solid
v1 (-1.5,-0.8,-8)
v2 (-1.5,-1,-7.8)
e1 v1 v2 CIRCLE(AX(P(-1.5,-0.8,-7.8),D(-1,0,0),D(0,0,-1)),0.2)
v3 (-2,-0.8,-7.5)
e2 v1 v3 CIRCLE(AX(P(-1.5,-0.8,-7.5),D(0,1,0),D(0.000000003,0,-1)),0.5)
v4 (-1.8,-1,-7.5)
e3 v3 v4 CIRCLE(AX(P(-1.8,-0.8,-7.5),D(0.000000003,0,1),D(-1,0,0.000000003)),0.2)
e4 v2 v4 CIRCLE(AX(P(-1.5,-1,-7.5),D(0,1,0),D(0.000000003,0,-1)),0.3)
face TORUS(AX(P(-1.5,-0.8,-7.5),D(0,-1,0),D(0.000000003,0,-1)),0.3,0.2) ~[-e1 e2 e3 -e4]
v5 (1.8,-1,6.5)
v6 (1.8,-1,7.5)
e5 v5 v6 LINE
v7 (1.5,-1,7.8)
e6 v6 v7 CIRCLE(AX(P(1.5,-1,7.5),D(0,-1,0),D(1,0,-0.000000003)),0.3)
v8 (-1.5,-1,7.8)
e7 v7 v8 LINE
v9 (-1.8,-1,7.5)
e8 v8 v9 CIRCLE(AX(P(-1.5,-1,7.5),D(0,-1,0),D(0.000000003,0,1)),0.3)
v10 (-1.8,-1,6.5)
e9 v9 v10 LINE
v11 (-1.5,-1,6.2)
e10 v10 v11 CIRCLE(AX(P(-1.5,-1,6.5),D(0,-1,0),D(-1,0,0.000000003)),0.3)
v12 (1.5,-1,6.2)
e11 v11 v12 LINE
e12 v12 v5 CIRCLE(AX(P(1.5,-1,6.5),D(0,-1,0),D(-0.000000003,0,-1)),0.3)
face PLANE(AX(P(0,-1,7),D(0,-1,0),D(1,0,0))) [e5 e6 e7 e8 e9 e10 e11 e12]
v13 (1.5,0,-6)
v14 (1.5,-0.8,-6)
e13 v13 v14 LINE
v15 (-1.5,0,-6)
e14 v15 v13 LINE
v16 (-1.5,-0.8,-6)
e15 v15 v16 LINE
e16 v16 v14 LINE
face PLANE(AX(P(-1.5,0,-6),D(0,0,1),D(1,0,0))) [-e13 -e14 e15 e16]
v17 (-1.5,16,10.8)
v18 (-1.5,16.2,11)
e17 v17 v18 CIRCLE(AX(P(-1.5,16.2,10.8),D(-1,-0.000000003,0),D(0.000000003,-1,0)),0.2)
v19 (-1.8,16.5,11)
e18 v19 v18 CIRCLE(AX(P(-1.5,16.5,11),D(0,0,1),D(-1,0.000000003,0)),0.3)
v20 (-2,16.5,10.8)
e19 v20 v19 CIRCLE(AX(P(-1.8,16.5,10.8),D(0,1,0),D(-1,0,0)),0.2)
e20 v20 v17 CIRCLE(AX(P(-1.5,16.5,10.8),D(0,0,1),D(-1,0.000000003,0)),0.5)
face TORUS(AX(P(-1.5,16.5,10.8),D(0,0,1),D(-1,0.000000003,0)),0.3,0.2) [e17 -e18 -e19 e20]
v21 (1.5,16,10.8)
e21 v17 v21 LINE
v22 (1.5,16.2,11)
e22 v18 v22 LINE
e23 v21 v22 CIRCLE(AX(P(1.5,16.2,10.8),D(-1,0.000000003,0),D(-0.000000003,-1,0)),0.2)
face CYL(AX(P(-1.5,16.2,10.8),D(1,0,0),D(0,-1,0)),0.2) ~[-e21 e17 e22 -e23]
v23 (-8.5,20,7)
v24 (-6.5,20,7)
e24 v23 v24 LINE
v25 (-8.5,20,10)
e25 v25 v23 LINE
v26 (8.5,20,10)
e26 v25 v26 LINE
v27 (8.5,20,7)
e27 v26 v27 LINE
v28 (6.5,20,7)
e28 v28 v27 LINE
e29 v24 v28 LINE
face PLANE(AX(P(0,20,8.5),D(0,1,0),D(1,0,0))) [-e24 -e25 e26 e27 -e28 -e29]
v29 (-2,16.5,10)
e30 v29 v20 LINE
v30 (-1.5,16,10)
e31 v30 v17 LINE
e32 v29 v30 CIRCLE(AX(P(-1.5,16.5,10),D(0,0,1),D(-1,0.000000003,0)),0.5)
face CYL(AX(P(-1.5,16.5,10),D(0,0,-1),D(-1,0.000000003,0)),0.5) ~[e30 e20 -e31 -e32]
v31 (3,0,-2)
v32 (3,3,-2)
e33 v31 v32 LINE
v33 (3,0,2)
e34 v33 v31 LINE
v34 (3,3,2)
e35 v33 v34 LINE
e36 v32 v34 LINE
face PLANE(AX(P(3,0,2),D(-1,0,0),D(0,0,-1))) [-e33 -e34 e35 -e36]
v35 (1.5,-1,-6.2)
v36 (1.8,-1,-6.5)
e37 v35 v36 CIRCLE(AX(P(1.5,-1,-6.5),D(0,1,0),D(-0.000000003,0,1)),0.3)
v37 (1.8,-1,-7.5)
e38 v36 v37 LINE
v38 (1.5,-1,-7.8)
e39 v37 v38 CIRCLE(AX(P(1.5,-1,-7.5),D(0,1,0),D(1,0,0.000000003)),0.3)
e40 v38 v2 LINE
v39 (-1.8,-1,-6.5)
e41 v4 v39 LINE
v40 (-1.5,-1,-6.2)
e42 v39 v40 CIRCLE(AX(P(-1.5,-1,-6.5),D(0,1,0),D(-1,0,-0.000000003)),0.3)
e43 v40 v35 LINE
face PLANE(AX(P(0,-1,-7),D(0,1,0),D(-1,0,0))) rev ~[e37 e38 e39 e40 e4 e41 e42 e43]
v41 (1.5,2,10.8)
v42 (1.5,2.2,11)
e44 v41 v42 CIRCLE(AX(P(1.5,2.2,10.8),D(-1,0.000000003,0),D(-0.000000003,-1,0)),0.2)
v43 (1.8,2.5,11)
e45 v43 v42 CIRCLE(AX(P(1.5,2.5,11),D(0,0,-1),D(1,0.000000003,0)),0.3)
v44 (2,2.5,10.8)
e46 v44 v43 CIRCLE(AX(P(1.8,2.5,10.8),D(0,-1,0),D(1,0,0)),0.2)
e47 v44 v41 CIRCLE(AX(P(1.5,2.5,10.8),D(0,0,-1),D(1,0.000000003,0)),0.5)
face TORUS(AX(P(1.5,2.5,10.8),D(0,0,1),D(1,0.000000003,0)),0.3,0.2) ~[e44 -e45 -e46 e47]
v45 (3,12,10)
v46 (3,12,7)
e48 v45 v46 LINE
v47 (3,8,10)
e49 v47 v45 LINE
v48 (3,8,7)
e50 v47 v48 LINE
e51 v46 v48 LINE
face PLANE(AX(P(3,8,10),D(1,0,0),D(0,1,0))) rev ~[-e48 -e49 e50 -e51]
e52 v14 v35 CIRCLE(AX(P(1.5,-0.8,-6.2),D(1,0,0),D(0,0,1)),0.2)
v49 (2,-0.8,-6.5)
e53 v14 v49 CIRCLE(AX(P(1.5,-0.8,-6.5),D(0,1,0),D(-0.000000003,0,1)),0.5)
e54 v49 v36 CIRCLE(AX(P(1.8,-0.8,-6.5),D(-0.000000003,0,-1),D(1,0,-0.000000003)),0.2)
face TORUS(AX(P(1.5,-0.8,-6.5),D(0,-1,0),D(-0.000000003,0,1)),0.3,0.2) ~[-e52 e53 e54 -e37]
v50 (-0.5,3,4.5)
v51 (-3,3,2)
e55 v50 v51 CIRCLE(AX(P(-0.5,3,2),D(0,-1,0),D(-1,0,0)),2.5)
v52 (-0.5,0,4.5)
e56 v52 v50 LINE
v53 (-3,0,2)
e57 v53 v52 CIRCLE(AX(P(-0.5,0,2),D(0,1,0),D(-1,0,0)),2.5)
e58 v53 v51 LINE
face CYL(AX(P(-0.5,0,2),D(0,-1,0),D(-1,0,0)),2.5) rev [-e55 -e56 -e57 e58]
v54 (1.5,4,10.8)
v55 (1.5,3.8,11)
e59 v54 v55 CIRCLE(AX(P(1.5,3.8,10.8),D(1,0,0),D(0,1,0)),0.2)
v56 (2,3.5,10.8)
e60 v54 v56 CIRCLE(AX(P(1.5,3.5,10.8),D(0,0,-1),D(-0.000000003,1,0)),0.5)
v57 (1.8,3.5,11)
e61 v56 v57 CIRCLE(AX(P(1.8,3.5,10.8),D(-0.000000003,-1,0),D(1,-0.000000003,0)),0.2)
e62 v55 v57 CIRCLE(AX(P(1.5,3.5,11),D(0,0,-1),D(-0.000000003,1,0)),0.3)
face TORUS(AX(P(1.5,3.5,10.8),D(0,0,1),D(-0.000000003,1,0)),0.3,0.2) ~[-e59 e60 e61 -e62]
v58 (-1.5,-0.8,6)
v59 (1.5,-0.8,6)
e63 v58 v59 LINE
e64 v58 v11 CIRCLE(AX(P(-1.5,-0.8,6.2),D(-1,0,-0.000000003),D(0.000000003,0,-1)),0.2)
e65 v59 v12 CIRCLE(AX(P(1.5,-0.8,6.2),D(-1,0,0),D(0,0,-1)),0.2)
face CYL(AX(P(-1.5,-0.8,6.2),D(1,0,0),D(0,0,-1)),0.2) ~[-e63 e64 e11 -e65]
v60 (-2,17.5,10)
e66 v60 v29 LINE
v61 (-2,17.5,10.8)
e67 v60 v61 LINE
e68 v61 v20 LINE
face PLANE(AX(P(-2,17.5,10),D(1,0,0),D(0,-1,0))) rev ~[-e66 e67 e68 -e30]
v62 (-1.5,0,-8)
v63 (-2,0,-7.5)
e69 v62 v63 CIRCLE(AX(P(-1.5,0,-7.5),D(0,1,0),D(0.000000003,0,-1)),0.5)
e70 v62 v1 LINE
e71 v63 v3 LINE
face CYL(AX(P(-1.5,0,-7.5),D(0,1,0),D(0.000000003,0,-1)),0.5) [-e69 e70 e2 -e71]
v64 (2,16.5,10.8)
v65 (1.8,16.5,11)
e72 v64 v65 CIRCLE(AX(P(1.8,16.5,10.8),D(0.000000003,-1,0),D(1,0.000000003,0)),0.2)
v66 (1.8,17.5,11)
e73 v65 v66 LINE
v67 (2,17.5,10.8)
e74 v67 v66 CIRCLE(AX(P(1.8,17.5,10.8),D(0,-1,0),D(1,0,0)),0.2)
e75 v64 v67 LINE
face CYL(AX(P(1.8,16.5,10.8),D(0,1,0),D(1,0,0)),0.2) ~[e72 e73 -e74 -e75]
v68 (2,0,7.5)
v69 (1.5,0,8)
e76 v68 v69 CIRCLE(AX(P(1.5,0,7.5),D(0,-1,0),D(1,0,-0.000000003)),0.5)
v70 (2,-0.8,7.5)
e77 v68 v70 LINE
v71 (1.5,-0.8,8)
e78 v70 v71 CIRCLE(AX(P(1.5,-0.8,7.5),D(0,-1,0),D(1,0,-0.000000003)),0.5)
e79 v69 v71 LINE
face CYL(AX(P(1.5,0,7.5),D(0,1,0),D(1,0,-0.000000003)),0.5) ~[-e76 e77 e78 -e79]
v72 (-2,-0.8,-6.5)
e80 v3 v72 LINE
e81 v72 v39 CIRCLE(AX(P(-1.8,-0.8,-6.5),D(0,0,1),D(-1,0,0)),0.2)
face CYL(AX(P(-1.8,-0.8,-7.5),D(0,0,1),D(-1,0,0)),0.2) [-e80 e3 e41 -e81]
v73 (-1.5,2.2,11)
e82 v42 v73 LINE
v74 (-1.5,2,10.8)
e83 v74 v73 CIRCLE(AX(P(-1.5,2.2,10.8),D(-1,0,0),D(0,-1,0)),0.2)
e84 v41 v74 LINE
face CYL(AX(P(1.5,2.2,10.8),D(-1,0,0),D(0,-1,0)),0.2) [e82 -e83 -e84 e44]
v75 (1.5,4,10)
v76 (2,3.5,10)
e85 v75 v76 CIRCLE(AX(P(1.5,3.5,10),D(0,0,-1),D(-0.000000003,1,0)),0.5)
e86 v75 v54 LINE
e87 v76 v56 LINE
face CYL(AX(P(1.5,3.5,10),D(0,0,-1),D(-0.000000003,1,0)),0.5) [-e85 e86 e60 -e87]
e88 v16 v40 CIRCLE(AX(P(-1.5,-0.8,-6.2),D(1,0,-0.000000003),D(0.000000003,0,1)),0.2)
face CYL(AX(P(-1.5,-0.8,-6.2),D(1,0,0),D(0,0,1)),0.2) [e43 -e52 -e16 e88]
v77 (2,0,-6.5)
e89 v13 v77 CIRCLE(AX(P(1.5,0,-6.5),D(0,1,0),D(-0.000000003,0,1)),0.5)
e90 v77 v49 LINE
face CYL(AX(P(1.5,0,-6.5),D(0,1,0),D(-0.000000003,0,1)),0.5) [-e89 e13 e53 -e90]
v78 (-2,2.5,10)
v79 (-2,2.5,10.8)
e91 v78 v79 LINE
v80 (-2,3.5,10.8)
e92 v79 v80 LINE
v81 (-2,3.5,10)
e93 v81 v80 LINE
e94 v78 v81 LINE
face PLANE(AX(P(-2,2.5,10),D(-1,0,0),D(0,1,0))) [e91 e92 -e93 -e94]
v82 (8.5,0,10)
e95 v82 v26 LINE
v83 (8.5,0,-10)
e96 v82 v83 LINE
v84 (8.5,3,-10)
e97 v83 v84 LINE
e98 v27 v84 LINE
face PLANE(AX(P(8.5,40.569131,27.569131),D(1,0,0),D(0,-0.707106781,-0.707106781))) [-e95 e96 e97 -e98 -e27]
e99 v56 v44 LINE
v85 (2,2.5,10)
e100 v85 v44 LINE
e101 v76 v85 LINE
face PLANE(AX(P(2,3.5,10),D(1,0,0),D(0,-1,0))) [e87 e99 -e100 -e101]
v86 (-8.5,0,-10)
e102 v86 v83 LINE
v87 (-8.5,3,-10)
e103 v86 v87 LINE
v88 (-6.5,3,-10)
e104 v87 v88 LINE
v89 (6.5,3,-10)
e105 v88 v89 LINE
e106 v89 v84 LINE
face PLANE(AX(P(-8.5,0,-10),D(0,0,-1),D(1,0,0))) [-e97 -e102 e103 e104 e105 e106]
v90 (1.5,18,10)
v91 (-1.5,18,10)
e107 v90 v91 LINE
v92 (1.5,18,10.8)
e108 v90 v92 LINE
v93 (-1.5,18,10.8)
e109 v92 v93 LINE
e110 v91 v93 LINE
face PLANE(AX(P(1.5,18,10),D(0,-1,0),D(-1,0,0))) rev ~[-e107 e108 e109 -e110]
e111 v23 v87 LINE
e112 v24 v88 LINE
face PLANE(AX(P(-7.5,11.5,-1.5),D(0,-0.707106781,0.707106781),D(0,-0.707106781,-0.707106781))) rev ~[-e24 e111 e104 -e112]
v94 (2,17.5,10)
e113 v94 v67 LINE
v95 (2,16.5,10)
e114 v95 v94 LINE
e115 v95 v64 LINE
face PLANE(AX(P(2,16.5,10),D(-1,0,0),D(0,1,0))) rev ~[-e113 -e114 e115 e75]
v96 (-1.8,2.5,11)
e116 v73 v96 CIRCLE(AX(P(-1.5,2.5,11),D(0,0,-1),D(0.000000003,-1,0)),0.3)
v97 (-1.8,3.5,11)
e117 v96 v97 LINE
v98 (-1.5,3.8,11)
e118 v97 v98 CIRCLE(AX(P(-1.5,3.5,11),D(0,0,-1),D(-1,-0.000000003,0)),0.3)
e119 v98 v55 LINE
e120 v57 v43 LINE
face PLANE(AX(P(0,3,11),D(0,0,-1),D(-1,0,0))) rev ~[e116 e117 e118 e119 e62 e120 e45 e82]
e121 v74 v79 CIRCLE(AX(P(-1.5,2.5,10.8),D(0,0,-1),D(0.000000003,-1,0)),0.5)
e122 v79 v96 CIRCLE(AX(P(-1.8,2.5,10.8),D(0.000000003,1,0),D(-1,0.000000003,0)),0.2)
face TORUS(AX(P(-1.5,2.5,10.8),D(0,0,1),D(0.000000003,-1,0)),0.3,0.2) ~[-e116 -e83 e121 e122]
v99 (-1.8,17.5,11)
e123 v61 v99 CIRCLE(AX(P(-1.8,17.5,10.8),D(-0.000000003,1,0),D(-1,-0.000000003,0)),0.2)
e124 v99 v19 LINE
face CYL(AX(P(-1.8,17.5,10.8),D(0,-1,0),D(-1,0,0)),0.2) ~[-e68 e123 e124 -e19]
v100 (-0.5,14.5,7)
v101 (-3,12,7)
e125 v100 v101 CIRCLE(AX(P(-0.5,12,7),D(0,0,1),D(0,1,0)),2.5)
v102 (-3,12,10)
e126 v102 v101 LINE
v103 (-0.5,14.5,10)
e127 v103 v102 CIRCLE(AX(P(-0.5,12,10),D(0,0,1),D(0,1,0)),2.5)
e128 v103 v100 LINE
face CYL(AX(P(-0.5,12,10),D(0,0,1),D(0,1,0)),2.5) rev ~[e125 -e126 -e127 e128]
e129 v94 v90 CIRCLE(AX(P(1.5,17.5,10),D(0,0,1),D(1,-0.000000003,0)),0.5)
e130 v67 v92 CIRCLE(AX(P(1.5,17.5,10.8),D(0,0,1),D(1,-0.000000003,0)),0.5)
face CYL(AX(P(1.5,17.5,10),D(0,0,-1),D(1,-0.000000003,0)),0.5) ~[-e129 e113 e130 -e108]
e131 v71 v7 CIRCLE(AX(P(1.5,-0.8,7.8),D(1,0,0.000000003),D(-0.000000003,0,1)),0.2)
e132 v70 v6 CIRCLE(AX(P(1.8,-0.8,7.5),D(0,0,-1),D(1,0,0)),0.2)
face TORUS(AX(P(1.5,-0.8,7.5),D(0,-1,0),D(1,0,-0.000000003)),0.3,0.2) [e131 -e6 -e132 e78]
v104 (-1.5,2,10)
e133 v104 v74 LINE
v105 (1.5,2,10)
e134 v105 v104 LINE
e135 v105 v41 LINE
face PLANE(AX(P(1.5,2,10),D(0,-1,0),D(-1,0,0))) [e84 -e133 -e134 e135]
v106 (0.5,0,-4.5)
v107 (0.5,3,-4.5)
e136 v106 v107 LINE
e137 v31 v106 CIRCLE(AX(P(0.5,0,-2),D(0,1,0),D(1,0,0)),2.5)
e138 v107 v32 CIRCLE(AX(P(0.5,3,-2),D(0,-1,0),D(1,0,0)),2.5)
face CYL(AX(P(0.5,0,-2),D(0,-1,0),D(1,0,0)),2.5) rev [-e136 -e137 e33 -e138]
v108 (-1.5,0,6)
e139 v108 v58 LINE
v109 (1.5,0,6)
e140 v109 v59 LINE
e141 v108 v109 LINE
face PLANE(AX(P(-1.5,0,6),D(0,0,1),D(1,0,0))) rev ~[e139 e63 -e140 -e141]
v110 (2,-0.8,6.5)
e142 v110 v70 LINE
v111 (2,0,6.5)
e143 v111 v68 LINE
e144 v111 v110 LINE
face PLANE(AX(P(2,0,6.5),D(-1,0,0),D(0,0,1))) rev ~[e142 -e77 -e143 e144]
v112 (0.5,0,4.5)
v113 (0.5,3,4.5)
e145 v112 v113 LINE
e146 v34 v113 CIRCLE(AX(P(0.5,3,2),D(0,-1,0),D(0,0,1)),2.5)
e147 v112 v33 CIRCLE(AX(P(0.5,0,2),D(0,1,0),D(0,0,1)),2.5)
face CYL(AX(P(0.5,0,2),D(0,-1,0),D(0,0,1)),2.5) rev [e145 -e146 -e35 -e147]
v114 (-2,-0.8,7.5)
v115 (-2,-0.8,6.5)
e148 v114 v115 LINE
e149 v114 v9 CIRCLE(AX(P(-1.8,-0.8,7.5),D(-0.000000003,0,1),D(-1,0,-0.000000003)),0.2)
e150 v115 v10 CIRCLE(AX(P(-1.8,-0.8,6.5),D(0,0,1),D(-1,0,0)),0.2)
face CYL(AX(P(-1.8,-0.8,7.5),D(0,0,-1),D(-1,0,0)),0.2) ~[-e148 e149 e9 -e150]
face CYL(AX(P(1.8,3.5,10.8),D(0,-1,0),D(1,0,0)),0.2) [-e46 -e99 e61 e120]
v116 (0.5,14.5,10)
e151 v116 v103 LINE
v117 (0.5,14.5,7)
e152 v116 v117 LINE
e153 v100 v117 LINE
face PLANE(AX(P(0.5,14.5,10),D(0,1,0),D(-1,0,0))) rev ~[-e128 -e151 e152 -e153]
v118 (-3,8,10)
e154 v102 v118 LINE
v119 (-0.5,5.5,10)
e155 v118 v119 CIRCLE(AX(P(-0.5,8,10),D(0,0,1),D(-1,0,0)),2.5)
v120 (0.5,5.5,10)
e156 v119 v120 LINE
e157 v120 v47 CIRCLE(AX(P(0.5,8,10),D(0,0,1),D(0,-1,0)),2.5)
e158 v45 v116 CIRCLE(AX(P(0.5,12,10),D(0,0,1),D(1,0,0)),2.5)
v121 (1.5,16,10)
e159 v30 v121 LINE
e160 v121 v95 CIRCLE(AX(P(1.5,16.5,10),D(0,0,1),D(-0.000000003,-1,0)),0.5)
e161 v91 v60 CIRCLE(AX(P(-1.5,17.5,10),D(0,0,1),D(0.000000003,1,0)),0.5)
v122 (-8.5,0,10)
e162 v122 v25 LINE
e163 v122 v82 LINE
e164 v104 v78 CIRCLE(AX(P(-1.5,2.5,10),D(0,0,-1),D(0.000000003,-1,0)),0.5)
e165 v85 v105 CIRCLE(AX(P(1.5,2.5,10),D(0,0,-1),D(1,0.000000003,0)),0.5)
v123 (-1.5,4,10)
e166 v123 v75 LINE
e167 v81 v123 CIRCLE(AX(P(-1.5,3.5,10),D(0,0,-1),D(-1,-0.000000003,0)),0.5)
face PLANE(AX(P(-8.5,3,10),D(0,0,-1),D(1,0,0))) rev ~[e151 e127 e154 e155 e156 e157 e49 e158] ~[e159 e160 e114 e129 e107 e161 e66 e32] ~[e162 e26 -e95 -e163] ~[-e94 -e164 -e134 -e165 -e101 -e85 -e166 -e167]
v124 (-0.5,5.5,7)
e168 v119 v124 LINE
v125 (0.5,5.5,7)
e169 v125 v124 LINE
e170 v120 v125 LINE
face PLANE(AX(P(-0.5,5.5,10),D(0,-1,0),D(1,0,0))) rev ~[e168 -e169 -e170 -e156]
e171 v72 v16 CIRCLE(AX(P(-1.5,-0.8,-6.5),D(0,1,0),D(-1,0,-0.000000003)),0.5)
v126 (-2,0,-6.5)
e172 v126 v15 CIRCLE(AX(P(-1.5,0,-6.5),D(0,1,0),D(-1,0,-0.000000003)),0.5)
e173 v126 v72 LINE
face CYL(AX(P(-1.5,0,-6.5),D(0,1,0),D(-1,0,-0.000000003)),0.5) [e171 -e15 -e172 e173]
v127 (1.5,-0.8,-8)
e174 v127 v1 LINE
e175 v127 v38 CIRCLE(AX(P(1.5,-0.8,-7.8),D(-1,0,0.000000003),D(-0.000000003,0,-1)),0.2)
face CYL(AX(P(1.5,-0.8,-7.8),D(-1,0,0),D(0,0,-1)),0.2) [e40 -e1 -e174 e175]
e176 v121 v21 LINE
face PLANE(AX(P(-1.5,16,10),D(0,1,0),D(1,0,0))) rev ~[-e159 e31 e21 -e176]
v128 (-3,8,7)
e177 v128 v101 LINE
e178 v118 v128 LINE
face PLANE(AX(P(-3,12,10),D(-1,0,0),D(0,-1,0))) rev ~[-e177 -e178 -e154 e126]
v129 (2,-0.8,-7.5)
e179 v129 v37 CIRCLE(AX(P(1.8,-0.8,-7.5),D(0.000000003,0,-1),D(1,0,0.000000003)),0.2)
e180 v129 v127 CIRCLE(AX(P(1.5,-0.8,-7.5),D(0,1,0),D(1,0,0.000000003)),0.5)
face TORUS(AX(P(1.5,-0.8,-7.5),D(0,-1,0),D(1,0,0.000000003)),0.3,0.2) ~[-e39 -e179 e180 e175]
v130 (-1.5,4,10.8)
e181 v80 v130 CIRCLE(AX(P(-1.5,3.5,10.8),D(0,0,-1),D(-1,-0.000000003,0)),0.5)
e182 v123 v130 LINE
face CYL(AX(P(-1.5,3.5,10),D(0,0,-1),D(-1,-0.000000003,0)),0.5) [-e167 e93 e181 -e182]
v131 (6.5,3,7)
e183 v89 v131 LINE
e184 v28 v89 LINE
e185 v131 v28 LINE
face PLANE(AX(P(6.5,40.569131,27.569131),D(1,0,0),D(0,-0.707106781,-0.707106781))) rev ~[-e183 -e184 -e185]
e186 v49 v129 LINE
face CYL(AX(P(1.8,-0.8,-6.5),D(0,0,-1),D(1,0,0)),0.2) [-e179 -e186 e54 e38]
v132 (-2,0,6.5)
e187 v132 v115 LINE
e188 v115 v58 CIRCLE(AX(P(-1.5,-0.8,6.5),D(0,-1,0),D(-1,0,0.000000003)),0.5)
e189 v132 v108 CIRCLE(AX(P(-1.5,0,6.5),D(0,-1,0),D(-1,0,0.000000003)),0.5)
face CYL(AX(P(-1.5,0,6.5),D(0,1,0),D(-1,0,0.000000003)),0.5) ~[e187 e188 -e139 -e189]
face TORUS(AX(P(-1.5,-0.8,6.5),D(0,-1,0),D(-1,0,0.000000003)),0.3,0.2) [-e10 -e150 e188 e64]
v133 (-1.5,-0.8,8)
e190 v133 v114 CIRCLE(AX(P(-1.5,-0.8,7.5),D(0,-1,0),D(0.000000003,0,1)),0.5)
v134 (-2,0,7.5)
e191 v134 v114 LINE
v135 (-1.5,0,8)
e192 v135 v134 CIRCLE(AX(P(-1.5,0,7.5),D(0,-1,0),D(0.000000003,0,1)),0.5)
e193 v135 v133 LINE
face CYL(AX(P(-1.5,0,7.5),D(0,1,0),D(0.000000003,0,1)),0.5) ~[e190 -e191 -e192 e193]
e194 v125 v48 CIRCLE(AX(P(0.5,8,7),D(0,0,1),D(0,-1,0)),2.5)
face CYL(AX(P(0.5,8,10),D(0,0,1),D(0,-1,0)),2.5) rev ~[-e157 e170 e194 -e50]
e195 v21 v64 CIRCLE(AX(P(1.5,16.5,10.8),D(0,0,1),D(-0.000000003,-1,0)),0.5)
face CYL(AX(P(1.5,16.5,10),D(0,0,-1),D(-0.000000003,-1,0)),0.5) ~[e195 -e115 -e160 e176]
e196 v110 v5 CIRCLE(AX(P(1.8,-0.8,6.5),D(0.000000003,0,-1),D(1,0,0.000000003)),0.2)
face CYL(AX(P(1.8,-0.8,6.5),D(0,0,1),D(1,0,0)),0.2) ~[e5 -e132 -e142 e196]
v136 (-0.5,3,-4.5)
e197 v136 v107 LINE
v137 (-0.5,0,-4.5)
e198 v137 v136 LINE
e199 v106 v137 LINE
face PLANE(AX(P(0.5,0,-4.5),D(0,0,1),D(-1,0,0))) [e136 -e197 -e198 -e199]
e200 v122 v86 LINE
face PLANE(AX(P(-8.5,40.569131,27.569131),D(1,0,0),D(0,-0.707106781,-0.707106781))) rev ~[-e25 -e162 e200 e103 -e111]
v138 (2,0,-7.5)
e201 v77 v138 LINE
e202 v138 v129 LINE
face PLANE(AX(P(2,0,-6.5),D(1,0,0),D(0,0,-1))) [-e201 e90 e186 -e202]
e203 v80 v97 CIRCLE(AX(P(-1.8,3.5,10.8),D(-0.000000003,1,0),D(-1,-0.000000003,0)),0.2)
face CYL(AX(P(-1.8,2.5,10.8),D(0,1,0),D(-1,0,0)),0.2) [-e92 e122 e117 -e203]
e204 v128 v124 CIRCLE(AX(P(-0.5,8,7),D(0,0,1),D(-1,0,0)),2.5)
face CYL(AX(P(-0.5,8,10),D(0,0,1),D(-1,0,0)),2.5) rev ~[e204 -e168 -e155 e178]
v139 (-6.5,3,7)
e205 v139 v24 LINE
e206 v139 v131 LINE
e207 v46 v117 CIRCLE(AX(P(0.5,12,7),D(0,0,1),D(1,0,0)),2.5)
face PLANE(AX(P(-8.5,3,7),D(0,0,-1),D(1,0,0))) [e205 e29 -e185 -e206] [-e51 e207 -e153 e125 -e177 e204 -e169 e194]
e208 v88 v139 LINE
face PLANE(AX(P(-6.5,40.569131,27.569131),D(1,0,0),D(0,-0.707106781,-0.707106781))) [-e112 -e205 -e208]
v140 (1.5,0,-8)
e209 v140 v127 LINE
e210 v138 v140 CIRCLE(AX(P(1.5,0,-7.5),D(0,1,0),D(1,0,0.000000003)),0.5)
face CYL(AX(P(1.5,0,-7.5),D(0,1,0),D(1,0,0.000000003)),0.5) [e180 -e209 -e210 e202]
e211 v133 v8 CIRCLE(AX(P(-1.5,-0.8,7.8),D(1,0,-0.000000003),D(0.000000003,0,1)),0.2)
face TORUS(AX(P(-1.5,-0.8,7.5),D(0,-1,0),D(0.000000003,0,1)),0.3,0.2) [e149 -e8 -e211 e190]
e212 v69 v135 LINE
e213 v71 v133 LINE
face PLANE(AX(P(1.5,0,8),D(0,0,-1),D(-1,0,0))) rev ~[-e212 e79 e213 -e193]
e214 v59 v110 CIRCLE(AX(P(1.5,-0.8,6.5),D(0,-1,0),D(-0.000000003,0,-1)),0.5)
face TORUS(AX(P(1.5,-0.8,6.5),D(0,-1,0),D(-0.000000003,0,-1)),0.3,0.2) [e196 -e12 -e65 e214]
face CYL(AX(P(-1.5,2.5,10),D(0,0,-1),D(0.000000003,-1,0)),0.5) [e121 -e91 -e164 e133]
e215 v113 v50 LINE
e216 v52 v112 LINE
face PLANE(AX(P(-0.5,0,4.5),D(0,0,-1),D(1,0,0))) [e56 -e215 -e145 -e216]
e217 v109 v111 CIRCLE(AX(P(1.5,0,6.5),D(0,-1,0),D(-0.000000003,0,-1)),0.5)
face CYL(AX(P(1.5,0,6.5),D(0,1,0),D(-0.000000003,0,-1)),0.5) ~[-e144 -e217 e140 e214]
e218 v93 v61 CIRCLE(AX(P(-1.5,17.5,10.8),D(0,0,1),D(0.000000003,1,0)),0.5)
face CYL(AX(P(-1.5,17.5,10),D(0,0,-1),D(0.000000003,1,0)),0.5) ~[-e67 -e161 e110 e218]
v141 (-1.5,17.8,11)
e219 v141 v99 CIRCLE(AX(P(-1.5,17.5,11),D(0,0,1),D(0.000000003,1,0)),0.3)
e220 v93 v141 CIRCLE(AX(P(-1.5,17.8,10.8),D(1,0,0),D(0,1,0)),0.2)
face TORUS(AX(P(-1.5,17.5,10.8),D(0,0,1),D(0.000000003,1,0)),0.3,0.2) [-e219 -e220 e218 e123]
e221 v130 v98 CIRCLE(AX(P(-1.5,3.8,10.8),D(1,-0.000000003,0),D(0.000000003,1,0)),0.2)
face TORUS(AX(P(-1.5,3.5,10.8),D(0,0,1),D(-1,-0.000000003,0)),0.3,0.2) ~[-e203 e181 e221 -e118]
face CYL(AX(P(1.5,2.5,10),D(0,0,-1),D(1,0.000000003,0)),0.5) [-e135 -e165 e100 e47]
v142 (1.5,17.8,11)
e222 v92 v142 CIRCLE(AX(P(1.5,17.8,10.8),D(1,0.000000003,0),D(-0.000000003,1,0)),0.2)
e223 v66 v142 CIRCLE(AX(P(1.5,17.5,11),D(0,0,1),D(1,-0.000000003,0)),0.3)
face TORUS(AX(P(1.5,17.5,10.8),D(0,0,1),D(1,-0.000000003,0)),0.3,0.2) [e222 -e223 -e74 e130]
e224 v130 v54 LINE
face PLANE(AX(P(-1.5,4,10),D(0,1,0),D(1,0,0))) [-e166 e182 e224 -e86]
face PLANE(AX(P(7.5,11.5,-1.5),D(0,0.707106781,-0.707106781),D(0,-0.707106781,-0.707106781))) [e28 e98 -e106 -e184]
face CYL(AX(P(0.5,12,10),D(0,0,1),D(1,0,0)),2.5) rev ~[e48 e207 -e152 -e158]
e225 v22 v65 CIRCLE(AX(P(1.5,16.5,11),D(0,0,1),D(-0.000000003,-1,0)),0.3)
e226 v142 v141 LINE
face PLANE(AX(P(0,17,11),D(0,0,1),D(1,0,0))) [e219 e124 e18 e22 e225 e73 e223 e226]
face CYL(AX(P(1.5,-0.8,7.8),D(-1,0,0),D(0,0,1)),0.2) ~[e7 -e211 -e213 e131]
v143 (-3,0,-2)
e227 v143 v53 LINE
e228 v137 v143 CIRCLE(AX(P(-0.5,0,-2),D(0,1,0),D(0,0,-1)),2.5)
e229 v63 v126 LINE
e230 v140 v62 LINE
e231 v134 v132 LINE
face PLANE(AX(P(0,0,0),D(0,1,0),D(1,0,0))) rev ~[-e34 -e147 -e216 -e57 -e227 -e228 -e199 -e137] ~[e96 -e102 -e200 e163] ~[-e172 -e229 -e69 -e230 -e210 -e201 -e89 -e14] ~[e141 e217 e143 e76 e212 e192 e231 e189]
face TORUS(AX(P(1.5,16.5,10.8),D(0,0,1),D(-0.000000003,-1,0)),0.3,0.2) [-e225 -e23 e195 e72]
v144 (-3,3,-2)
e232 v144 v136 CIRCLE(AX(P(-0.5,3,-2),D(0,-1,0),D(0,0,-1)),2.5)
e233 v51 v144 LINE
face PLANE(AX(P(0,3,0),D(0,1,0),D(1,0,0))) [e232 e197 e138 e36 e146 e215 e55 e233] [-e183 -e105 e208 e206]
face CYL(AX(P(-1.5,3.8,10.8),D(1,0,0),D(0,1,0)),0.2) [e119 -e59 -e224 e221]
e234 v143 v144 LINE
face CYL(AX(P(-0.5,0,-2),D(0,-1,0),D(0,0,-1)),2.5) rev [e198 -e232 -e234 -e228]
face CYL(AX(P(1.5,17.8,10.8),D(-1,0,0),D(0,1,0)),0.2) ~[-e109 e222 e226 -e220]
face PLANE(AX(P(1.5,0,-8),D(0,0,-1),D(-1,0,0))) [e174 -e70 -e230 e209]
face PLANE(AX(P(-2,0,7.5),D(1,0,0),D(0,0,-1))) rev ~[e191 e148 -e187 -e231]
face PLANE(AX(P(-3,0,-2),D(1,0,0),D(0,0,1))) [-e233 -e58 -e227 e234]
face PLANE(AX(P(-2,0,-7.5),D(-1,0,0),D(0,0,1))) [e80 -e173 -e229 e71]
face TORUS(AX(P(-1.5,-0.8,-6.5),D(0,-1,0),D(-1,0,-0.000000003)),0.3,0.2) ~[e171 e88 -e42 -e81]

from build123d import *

# Parameters (mm, degrees)
SKETCH1_W           = 17
SKETCH1_H           = 20
BOSS_EXTRUDE1_DEPTH = 3
SKETCH2_W           = 17
SKETCH2_H           = 3
BOSS_EXTRUDE2_DEPTH = 17
RIB1_REACH          = 30.089
SKETCH3_WALL_W      = 82.219918182
SKETCH3_WALL_H      = 2
RIB4_REACH          = 30.089
SKETCH4_WALL_W      = 82.219918182
SKETCH4_WALL_H      = 2
CUT_EXTRUDE1_DEPTH  = 17
CUT_EXTRUDE2_DEPTH  = 17
BOSS_EXTRUDE3_DEPTH = 1
BOSS_EXTRUDE4_DEPTH = 1
FILLET1_R           = 0.2


with BuildPart() as part:
    # Sketch1 → Boss-Extrude1 (new body)
    with BuildSketch(Plane(origin=(0, 0, 0), x_dir=(1, 0, 0), z_dir=(0, 1, 0))):
        Rectangle(SKETCH1_W, SKETCH1_H)
    extrude(amount=BOSS_EXTRUDE1_DEPTH)

    # Sketch2 → Boss-Extrude2 (add)
    with BuildSketch(Plane(origin=(0, 3, 0), x_dir=(1, 0, 0), z_dir=(0, 1, 0))):
        with Locations((0, -8.5)):
            Rectangle(SKETCH2_W, SKETCH2_H)
    extrude(amount=BOSS_EXTRUDE2_DEPTH)

    # Sketch3 wall → Rib1 (add, up to next)
    with BuildSketch(Plane(origin=(8.5, 11.5, -1.5), x_dir=(0, -0.707106781187, -0.707106781187), z_dir=(0, 0.707106781187, -0.707106781187)), mode=Mode.PRIVATE) as rib1_sk1:
        with Locations((0, 1)):
            Rectangle(SKETCH3_WALL_W, SKETCH3_WALL_H)
    rib1_tool1 = extrude(rib1_sk1.sketch, amount=-RIB1_REACH, mode=Mode.PRIVATE) - part.part
    add(rib1_tool1.solids().sort_by_distance((8.5, 11.5, -1.5))[0])

    # Sketch4 wall → Rib4 (add, up to next)
    with BuildSketch(Plane(origin=(-8.5, 11.5, -1.5), x_dir=(0, -0.707106781187, -0.707106781187), z_dir=(0, -0.707106781187, 0.707106781187)), mode=Mode.PRIVATE) as rib4_sk1:
        with Locations((0, 1)):
            Rectangle(SKETCH4_WALL_W, SKETCH4_WALL_H)
    rib4_tool1 = extrude(rib4_sk1.sketch, amount=RIB4_REACH, mode=Mode.PRIVATE) - part.part
    add(rib4_tool1.solids().sort_by_distance((-8.5, 11.5, -1.5))[0])

    # Sketch5 → Cut-Extrude1 (cut)
    with BuildSketch(Plane.XY.offset(10)):
        with BuildLine():
            Line((-0.5, 5.5), (0.5, 5.5))
            ThreePointArc((0.5, 5.5), (2.267766953, 6.232233047), (3, 8))
            Line((3, 8), (3, 12))
            ThreePointArc((3, 12), (2.267766953, 13.767766953), (0.5, 14.5))
            Line((0.5, 14.5), (-0.5, 14.5))
            ThreePointArc((-0.5, 14.5), (-2.267766953, 13.767766953), (-3, 12))
            Line((-3, 12), (-3, 8))
            ThreePointArc((-3, 8), (-2.267766953, 6.232233047), (-0.5, 5.5))
        make_face()
    extrude(amount=-CUT_EXTRUDE1_DEPTH, mode=Mode.SUBTRACT)

    # Sketch6 → Cut-Extrude2 (cut)
    with BuildSketch(Plane.XZ):
        with BuildLine():
            Line((-0.5, 4.5), (0.5, 4.5))
            ThreePointArc((0.5, 4.5), (2.267766953, 3.767766953), (3, 2))
            Line((3, 2), (3, -2))
            ThreePointArc((3, -2), (2.267766953, -3.767766953), (0.5, -4.5))
            Line((0.5, -4.5), (-0.5, -4.5))
            ThreePointArc((-0.5, -4.5), (-2.267766953, -3.767766953), (-3, -2))
            Line((-3, -2), (-3, 2))
            ThreePointArc((-3, 2), (-2.267766953, 3.767766953), (-0.5, 4.5))
        make_face()
    extrude(amount=-CUT_EXTRUDE2_DEPTH, mode=Mode.SUBTRACT)

    # Sketch7 → Boss-Extrude3 (add)
    with BuildSketch(Plane.XZ):
        with BuildLine():
            Line((1.5, 8), (-1.5, 8))
            ThreePointArc((-1.5, 8), (-1.853553391, 7.853553391), (-2, 7.5))
            Line((-2, 7.5), (-2, 6.5))
            ThreePointArc((-2, 6.5), (-1.853553391, 6.146446609), (-1.5, 6))
            Line((-1.5, 6), (1.5, 6))
            ThreePointArc((1.5, 6), (1.853553391, 6.146446609), (2, 6.5))
            Line((2, 6.5), (2, 7.5))
            ThreePointArc((2, 7.5), (1.853553391, 7.853553391), (1.5, 8))
        make_face()
        with BuildLine():
            Line((-2, -7.5), (-2, -6.5))
            ThreePointArc((-2, -6.5), (-1.853553391, -6.146446609), (-1.5, -6))
            Line((-1.5, -6), (1.5, -6))
            ThreePointArc((1.5, -6), (1.853553391, -6.146446609), (2, -6.5))
            Line((2, -6.5), (2, -7.5))
            ThreePointArc((2, -7.5), (1.853553391, -7.853553391), (1.5, -8))
            Line((1.5, -8), (-1.5, -8))
            ThreePointArc((-1.5, -8), (-1.853553391, -7.853553391), (-2, -7.5))
        make_face()
    extrude(amount=BOSS_EXTRUDE3_DEPTH)

    # Sketch8 → Boss-Extrude4 (add)
    with BuildSketch(Plane.XY.offset(10)):
        with BuildLine():
            Line((-1.5, 4), (1.5, 4))
            ThreePointArc((1.5, 4), (1.853553391, 3.853553391), (2, 3.5))
            Line((2, 3.5), (2, 2.5))
            ThreePointArc((2, 2.5), (1.853553391, 2.146446609), (1.5, 2))
            Line((1.5, 2), (-1.5, 2))
            ThreePointArc((-1.5, 2), (-1.853553391, 2.146446609), (-2, 2.5))
            Line((-2, 2.5), (-2, 3.5))
            ThreePointArc((-2, 3.5), (-1.853553391, 3.853553391), (-1.5, 4))
        make_face()
        with BuildLine():
            Line((2, 16.5), (2, 17.5))
            ThreePointArc((2, 17.5), (1.853553391, 17.853553391), (1.5, 18))
            Line((1.5, 18), (-1.5, 18))
            ThreePointArc((-1.5, 18), (-1.853553391, 17.853553391), (-2, 17.5))
            Line((-2, 17.5), (-2, 16.5))
            ThreePointArc((-2, 16.5), (-1.853553391, 16.146446609), (-1.5, 16))
            Line((-1.5, 16), (1.5, 16))
            ThreePointArc((1.5, 16), (1.853553391, 16.146446609), (2, 16.5))
        make_face()
    extrude(amount=BOSS_EXTRUDE4_DEPTH)

    # Fillet1
    fillet1_edges = [part.edges().sort_by_distance(p)[0] for p in [
        (-1.853553391, -1, 7.853553391),
        (-2, -1, 7),
        (-1.853553391, -1, 6.146446609),
        (0, -1, 6),
        (1.853553391, -1, 6.146446609),
        (2, -1, 7),
        (1.853553391, -1, 7.853553391),
        (0, -1, 8),
        (1.853553391, -1, -7.853553391),
        (2, -1, -7),
        (1.853553391, -1, -6.146446609),
        (0, -1, -6),
        (-1.853553391, -1, -6.146446609),
        (-2, -1, -7),
        (-1.853553391, -1, -7.853553391),
        (0, -1, -8),
        (-1.853553391, 3.853553391, 11),
        (-2, 3, 11),
        (-1.853553391, 2.146446609, 11),
        (0, 2, 11),
        (1.853553391, 2.146446609, 11),
        (2, 3, 11),
        (1.853553391, 3.853553391, 11),
        (0, 4, 11),
        (1.853553391, 16.146446609, 11),
        (2, 17, 11),
        (1.853553391, 17.853553391, 11),
        (0, 18, 11),
        (-1.853553391, 17.853553391, 11),
        (-2, 17, 11),
        (-1.853553391, 16.146446609, 11),
        (0, 16, 11),
    ]]
    fillet(fillet1_edges, radius=FILLET1_R)


solid = part.part
